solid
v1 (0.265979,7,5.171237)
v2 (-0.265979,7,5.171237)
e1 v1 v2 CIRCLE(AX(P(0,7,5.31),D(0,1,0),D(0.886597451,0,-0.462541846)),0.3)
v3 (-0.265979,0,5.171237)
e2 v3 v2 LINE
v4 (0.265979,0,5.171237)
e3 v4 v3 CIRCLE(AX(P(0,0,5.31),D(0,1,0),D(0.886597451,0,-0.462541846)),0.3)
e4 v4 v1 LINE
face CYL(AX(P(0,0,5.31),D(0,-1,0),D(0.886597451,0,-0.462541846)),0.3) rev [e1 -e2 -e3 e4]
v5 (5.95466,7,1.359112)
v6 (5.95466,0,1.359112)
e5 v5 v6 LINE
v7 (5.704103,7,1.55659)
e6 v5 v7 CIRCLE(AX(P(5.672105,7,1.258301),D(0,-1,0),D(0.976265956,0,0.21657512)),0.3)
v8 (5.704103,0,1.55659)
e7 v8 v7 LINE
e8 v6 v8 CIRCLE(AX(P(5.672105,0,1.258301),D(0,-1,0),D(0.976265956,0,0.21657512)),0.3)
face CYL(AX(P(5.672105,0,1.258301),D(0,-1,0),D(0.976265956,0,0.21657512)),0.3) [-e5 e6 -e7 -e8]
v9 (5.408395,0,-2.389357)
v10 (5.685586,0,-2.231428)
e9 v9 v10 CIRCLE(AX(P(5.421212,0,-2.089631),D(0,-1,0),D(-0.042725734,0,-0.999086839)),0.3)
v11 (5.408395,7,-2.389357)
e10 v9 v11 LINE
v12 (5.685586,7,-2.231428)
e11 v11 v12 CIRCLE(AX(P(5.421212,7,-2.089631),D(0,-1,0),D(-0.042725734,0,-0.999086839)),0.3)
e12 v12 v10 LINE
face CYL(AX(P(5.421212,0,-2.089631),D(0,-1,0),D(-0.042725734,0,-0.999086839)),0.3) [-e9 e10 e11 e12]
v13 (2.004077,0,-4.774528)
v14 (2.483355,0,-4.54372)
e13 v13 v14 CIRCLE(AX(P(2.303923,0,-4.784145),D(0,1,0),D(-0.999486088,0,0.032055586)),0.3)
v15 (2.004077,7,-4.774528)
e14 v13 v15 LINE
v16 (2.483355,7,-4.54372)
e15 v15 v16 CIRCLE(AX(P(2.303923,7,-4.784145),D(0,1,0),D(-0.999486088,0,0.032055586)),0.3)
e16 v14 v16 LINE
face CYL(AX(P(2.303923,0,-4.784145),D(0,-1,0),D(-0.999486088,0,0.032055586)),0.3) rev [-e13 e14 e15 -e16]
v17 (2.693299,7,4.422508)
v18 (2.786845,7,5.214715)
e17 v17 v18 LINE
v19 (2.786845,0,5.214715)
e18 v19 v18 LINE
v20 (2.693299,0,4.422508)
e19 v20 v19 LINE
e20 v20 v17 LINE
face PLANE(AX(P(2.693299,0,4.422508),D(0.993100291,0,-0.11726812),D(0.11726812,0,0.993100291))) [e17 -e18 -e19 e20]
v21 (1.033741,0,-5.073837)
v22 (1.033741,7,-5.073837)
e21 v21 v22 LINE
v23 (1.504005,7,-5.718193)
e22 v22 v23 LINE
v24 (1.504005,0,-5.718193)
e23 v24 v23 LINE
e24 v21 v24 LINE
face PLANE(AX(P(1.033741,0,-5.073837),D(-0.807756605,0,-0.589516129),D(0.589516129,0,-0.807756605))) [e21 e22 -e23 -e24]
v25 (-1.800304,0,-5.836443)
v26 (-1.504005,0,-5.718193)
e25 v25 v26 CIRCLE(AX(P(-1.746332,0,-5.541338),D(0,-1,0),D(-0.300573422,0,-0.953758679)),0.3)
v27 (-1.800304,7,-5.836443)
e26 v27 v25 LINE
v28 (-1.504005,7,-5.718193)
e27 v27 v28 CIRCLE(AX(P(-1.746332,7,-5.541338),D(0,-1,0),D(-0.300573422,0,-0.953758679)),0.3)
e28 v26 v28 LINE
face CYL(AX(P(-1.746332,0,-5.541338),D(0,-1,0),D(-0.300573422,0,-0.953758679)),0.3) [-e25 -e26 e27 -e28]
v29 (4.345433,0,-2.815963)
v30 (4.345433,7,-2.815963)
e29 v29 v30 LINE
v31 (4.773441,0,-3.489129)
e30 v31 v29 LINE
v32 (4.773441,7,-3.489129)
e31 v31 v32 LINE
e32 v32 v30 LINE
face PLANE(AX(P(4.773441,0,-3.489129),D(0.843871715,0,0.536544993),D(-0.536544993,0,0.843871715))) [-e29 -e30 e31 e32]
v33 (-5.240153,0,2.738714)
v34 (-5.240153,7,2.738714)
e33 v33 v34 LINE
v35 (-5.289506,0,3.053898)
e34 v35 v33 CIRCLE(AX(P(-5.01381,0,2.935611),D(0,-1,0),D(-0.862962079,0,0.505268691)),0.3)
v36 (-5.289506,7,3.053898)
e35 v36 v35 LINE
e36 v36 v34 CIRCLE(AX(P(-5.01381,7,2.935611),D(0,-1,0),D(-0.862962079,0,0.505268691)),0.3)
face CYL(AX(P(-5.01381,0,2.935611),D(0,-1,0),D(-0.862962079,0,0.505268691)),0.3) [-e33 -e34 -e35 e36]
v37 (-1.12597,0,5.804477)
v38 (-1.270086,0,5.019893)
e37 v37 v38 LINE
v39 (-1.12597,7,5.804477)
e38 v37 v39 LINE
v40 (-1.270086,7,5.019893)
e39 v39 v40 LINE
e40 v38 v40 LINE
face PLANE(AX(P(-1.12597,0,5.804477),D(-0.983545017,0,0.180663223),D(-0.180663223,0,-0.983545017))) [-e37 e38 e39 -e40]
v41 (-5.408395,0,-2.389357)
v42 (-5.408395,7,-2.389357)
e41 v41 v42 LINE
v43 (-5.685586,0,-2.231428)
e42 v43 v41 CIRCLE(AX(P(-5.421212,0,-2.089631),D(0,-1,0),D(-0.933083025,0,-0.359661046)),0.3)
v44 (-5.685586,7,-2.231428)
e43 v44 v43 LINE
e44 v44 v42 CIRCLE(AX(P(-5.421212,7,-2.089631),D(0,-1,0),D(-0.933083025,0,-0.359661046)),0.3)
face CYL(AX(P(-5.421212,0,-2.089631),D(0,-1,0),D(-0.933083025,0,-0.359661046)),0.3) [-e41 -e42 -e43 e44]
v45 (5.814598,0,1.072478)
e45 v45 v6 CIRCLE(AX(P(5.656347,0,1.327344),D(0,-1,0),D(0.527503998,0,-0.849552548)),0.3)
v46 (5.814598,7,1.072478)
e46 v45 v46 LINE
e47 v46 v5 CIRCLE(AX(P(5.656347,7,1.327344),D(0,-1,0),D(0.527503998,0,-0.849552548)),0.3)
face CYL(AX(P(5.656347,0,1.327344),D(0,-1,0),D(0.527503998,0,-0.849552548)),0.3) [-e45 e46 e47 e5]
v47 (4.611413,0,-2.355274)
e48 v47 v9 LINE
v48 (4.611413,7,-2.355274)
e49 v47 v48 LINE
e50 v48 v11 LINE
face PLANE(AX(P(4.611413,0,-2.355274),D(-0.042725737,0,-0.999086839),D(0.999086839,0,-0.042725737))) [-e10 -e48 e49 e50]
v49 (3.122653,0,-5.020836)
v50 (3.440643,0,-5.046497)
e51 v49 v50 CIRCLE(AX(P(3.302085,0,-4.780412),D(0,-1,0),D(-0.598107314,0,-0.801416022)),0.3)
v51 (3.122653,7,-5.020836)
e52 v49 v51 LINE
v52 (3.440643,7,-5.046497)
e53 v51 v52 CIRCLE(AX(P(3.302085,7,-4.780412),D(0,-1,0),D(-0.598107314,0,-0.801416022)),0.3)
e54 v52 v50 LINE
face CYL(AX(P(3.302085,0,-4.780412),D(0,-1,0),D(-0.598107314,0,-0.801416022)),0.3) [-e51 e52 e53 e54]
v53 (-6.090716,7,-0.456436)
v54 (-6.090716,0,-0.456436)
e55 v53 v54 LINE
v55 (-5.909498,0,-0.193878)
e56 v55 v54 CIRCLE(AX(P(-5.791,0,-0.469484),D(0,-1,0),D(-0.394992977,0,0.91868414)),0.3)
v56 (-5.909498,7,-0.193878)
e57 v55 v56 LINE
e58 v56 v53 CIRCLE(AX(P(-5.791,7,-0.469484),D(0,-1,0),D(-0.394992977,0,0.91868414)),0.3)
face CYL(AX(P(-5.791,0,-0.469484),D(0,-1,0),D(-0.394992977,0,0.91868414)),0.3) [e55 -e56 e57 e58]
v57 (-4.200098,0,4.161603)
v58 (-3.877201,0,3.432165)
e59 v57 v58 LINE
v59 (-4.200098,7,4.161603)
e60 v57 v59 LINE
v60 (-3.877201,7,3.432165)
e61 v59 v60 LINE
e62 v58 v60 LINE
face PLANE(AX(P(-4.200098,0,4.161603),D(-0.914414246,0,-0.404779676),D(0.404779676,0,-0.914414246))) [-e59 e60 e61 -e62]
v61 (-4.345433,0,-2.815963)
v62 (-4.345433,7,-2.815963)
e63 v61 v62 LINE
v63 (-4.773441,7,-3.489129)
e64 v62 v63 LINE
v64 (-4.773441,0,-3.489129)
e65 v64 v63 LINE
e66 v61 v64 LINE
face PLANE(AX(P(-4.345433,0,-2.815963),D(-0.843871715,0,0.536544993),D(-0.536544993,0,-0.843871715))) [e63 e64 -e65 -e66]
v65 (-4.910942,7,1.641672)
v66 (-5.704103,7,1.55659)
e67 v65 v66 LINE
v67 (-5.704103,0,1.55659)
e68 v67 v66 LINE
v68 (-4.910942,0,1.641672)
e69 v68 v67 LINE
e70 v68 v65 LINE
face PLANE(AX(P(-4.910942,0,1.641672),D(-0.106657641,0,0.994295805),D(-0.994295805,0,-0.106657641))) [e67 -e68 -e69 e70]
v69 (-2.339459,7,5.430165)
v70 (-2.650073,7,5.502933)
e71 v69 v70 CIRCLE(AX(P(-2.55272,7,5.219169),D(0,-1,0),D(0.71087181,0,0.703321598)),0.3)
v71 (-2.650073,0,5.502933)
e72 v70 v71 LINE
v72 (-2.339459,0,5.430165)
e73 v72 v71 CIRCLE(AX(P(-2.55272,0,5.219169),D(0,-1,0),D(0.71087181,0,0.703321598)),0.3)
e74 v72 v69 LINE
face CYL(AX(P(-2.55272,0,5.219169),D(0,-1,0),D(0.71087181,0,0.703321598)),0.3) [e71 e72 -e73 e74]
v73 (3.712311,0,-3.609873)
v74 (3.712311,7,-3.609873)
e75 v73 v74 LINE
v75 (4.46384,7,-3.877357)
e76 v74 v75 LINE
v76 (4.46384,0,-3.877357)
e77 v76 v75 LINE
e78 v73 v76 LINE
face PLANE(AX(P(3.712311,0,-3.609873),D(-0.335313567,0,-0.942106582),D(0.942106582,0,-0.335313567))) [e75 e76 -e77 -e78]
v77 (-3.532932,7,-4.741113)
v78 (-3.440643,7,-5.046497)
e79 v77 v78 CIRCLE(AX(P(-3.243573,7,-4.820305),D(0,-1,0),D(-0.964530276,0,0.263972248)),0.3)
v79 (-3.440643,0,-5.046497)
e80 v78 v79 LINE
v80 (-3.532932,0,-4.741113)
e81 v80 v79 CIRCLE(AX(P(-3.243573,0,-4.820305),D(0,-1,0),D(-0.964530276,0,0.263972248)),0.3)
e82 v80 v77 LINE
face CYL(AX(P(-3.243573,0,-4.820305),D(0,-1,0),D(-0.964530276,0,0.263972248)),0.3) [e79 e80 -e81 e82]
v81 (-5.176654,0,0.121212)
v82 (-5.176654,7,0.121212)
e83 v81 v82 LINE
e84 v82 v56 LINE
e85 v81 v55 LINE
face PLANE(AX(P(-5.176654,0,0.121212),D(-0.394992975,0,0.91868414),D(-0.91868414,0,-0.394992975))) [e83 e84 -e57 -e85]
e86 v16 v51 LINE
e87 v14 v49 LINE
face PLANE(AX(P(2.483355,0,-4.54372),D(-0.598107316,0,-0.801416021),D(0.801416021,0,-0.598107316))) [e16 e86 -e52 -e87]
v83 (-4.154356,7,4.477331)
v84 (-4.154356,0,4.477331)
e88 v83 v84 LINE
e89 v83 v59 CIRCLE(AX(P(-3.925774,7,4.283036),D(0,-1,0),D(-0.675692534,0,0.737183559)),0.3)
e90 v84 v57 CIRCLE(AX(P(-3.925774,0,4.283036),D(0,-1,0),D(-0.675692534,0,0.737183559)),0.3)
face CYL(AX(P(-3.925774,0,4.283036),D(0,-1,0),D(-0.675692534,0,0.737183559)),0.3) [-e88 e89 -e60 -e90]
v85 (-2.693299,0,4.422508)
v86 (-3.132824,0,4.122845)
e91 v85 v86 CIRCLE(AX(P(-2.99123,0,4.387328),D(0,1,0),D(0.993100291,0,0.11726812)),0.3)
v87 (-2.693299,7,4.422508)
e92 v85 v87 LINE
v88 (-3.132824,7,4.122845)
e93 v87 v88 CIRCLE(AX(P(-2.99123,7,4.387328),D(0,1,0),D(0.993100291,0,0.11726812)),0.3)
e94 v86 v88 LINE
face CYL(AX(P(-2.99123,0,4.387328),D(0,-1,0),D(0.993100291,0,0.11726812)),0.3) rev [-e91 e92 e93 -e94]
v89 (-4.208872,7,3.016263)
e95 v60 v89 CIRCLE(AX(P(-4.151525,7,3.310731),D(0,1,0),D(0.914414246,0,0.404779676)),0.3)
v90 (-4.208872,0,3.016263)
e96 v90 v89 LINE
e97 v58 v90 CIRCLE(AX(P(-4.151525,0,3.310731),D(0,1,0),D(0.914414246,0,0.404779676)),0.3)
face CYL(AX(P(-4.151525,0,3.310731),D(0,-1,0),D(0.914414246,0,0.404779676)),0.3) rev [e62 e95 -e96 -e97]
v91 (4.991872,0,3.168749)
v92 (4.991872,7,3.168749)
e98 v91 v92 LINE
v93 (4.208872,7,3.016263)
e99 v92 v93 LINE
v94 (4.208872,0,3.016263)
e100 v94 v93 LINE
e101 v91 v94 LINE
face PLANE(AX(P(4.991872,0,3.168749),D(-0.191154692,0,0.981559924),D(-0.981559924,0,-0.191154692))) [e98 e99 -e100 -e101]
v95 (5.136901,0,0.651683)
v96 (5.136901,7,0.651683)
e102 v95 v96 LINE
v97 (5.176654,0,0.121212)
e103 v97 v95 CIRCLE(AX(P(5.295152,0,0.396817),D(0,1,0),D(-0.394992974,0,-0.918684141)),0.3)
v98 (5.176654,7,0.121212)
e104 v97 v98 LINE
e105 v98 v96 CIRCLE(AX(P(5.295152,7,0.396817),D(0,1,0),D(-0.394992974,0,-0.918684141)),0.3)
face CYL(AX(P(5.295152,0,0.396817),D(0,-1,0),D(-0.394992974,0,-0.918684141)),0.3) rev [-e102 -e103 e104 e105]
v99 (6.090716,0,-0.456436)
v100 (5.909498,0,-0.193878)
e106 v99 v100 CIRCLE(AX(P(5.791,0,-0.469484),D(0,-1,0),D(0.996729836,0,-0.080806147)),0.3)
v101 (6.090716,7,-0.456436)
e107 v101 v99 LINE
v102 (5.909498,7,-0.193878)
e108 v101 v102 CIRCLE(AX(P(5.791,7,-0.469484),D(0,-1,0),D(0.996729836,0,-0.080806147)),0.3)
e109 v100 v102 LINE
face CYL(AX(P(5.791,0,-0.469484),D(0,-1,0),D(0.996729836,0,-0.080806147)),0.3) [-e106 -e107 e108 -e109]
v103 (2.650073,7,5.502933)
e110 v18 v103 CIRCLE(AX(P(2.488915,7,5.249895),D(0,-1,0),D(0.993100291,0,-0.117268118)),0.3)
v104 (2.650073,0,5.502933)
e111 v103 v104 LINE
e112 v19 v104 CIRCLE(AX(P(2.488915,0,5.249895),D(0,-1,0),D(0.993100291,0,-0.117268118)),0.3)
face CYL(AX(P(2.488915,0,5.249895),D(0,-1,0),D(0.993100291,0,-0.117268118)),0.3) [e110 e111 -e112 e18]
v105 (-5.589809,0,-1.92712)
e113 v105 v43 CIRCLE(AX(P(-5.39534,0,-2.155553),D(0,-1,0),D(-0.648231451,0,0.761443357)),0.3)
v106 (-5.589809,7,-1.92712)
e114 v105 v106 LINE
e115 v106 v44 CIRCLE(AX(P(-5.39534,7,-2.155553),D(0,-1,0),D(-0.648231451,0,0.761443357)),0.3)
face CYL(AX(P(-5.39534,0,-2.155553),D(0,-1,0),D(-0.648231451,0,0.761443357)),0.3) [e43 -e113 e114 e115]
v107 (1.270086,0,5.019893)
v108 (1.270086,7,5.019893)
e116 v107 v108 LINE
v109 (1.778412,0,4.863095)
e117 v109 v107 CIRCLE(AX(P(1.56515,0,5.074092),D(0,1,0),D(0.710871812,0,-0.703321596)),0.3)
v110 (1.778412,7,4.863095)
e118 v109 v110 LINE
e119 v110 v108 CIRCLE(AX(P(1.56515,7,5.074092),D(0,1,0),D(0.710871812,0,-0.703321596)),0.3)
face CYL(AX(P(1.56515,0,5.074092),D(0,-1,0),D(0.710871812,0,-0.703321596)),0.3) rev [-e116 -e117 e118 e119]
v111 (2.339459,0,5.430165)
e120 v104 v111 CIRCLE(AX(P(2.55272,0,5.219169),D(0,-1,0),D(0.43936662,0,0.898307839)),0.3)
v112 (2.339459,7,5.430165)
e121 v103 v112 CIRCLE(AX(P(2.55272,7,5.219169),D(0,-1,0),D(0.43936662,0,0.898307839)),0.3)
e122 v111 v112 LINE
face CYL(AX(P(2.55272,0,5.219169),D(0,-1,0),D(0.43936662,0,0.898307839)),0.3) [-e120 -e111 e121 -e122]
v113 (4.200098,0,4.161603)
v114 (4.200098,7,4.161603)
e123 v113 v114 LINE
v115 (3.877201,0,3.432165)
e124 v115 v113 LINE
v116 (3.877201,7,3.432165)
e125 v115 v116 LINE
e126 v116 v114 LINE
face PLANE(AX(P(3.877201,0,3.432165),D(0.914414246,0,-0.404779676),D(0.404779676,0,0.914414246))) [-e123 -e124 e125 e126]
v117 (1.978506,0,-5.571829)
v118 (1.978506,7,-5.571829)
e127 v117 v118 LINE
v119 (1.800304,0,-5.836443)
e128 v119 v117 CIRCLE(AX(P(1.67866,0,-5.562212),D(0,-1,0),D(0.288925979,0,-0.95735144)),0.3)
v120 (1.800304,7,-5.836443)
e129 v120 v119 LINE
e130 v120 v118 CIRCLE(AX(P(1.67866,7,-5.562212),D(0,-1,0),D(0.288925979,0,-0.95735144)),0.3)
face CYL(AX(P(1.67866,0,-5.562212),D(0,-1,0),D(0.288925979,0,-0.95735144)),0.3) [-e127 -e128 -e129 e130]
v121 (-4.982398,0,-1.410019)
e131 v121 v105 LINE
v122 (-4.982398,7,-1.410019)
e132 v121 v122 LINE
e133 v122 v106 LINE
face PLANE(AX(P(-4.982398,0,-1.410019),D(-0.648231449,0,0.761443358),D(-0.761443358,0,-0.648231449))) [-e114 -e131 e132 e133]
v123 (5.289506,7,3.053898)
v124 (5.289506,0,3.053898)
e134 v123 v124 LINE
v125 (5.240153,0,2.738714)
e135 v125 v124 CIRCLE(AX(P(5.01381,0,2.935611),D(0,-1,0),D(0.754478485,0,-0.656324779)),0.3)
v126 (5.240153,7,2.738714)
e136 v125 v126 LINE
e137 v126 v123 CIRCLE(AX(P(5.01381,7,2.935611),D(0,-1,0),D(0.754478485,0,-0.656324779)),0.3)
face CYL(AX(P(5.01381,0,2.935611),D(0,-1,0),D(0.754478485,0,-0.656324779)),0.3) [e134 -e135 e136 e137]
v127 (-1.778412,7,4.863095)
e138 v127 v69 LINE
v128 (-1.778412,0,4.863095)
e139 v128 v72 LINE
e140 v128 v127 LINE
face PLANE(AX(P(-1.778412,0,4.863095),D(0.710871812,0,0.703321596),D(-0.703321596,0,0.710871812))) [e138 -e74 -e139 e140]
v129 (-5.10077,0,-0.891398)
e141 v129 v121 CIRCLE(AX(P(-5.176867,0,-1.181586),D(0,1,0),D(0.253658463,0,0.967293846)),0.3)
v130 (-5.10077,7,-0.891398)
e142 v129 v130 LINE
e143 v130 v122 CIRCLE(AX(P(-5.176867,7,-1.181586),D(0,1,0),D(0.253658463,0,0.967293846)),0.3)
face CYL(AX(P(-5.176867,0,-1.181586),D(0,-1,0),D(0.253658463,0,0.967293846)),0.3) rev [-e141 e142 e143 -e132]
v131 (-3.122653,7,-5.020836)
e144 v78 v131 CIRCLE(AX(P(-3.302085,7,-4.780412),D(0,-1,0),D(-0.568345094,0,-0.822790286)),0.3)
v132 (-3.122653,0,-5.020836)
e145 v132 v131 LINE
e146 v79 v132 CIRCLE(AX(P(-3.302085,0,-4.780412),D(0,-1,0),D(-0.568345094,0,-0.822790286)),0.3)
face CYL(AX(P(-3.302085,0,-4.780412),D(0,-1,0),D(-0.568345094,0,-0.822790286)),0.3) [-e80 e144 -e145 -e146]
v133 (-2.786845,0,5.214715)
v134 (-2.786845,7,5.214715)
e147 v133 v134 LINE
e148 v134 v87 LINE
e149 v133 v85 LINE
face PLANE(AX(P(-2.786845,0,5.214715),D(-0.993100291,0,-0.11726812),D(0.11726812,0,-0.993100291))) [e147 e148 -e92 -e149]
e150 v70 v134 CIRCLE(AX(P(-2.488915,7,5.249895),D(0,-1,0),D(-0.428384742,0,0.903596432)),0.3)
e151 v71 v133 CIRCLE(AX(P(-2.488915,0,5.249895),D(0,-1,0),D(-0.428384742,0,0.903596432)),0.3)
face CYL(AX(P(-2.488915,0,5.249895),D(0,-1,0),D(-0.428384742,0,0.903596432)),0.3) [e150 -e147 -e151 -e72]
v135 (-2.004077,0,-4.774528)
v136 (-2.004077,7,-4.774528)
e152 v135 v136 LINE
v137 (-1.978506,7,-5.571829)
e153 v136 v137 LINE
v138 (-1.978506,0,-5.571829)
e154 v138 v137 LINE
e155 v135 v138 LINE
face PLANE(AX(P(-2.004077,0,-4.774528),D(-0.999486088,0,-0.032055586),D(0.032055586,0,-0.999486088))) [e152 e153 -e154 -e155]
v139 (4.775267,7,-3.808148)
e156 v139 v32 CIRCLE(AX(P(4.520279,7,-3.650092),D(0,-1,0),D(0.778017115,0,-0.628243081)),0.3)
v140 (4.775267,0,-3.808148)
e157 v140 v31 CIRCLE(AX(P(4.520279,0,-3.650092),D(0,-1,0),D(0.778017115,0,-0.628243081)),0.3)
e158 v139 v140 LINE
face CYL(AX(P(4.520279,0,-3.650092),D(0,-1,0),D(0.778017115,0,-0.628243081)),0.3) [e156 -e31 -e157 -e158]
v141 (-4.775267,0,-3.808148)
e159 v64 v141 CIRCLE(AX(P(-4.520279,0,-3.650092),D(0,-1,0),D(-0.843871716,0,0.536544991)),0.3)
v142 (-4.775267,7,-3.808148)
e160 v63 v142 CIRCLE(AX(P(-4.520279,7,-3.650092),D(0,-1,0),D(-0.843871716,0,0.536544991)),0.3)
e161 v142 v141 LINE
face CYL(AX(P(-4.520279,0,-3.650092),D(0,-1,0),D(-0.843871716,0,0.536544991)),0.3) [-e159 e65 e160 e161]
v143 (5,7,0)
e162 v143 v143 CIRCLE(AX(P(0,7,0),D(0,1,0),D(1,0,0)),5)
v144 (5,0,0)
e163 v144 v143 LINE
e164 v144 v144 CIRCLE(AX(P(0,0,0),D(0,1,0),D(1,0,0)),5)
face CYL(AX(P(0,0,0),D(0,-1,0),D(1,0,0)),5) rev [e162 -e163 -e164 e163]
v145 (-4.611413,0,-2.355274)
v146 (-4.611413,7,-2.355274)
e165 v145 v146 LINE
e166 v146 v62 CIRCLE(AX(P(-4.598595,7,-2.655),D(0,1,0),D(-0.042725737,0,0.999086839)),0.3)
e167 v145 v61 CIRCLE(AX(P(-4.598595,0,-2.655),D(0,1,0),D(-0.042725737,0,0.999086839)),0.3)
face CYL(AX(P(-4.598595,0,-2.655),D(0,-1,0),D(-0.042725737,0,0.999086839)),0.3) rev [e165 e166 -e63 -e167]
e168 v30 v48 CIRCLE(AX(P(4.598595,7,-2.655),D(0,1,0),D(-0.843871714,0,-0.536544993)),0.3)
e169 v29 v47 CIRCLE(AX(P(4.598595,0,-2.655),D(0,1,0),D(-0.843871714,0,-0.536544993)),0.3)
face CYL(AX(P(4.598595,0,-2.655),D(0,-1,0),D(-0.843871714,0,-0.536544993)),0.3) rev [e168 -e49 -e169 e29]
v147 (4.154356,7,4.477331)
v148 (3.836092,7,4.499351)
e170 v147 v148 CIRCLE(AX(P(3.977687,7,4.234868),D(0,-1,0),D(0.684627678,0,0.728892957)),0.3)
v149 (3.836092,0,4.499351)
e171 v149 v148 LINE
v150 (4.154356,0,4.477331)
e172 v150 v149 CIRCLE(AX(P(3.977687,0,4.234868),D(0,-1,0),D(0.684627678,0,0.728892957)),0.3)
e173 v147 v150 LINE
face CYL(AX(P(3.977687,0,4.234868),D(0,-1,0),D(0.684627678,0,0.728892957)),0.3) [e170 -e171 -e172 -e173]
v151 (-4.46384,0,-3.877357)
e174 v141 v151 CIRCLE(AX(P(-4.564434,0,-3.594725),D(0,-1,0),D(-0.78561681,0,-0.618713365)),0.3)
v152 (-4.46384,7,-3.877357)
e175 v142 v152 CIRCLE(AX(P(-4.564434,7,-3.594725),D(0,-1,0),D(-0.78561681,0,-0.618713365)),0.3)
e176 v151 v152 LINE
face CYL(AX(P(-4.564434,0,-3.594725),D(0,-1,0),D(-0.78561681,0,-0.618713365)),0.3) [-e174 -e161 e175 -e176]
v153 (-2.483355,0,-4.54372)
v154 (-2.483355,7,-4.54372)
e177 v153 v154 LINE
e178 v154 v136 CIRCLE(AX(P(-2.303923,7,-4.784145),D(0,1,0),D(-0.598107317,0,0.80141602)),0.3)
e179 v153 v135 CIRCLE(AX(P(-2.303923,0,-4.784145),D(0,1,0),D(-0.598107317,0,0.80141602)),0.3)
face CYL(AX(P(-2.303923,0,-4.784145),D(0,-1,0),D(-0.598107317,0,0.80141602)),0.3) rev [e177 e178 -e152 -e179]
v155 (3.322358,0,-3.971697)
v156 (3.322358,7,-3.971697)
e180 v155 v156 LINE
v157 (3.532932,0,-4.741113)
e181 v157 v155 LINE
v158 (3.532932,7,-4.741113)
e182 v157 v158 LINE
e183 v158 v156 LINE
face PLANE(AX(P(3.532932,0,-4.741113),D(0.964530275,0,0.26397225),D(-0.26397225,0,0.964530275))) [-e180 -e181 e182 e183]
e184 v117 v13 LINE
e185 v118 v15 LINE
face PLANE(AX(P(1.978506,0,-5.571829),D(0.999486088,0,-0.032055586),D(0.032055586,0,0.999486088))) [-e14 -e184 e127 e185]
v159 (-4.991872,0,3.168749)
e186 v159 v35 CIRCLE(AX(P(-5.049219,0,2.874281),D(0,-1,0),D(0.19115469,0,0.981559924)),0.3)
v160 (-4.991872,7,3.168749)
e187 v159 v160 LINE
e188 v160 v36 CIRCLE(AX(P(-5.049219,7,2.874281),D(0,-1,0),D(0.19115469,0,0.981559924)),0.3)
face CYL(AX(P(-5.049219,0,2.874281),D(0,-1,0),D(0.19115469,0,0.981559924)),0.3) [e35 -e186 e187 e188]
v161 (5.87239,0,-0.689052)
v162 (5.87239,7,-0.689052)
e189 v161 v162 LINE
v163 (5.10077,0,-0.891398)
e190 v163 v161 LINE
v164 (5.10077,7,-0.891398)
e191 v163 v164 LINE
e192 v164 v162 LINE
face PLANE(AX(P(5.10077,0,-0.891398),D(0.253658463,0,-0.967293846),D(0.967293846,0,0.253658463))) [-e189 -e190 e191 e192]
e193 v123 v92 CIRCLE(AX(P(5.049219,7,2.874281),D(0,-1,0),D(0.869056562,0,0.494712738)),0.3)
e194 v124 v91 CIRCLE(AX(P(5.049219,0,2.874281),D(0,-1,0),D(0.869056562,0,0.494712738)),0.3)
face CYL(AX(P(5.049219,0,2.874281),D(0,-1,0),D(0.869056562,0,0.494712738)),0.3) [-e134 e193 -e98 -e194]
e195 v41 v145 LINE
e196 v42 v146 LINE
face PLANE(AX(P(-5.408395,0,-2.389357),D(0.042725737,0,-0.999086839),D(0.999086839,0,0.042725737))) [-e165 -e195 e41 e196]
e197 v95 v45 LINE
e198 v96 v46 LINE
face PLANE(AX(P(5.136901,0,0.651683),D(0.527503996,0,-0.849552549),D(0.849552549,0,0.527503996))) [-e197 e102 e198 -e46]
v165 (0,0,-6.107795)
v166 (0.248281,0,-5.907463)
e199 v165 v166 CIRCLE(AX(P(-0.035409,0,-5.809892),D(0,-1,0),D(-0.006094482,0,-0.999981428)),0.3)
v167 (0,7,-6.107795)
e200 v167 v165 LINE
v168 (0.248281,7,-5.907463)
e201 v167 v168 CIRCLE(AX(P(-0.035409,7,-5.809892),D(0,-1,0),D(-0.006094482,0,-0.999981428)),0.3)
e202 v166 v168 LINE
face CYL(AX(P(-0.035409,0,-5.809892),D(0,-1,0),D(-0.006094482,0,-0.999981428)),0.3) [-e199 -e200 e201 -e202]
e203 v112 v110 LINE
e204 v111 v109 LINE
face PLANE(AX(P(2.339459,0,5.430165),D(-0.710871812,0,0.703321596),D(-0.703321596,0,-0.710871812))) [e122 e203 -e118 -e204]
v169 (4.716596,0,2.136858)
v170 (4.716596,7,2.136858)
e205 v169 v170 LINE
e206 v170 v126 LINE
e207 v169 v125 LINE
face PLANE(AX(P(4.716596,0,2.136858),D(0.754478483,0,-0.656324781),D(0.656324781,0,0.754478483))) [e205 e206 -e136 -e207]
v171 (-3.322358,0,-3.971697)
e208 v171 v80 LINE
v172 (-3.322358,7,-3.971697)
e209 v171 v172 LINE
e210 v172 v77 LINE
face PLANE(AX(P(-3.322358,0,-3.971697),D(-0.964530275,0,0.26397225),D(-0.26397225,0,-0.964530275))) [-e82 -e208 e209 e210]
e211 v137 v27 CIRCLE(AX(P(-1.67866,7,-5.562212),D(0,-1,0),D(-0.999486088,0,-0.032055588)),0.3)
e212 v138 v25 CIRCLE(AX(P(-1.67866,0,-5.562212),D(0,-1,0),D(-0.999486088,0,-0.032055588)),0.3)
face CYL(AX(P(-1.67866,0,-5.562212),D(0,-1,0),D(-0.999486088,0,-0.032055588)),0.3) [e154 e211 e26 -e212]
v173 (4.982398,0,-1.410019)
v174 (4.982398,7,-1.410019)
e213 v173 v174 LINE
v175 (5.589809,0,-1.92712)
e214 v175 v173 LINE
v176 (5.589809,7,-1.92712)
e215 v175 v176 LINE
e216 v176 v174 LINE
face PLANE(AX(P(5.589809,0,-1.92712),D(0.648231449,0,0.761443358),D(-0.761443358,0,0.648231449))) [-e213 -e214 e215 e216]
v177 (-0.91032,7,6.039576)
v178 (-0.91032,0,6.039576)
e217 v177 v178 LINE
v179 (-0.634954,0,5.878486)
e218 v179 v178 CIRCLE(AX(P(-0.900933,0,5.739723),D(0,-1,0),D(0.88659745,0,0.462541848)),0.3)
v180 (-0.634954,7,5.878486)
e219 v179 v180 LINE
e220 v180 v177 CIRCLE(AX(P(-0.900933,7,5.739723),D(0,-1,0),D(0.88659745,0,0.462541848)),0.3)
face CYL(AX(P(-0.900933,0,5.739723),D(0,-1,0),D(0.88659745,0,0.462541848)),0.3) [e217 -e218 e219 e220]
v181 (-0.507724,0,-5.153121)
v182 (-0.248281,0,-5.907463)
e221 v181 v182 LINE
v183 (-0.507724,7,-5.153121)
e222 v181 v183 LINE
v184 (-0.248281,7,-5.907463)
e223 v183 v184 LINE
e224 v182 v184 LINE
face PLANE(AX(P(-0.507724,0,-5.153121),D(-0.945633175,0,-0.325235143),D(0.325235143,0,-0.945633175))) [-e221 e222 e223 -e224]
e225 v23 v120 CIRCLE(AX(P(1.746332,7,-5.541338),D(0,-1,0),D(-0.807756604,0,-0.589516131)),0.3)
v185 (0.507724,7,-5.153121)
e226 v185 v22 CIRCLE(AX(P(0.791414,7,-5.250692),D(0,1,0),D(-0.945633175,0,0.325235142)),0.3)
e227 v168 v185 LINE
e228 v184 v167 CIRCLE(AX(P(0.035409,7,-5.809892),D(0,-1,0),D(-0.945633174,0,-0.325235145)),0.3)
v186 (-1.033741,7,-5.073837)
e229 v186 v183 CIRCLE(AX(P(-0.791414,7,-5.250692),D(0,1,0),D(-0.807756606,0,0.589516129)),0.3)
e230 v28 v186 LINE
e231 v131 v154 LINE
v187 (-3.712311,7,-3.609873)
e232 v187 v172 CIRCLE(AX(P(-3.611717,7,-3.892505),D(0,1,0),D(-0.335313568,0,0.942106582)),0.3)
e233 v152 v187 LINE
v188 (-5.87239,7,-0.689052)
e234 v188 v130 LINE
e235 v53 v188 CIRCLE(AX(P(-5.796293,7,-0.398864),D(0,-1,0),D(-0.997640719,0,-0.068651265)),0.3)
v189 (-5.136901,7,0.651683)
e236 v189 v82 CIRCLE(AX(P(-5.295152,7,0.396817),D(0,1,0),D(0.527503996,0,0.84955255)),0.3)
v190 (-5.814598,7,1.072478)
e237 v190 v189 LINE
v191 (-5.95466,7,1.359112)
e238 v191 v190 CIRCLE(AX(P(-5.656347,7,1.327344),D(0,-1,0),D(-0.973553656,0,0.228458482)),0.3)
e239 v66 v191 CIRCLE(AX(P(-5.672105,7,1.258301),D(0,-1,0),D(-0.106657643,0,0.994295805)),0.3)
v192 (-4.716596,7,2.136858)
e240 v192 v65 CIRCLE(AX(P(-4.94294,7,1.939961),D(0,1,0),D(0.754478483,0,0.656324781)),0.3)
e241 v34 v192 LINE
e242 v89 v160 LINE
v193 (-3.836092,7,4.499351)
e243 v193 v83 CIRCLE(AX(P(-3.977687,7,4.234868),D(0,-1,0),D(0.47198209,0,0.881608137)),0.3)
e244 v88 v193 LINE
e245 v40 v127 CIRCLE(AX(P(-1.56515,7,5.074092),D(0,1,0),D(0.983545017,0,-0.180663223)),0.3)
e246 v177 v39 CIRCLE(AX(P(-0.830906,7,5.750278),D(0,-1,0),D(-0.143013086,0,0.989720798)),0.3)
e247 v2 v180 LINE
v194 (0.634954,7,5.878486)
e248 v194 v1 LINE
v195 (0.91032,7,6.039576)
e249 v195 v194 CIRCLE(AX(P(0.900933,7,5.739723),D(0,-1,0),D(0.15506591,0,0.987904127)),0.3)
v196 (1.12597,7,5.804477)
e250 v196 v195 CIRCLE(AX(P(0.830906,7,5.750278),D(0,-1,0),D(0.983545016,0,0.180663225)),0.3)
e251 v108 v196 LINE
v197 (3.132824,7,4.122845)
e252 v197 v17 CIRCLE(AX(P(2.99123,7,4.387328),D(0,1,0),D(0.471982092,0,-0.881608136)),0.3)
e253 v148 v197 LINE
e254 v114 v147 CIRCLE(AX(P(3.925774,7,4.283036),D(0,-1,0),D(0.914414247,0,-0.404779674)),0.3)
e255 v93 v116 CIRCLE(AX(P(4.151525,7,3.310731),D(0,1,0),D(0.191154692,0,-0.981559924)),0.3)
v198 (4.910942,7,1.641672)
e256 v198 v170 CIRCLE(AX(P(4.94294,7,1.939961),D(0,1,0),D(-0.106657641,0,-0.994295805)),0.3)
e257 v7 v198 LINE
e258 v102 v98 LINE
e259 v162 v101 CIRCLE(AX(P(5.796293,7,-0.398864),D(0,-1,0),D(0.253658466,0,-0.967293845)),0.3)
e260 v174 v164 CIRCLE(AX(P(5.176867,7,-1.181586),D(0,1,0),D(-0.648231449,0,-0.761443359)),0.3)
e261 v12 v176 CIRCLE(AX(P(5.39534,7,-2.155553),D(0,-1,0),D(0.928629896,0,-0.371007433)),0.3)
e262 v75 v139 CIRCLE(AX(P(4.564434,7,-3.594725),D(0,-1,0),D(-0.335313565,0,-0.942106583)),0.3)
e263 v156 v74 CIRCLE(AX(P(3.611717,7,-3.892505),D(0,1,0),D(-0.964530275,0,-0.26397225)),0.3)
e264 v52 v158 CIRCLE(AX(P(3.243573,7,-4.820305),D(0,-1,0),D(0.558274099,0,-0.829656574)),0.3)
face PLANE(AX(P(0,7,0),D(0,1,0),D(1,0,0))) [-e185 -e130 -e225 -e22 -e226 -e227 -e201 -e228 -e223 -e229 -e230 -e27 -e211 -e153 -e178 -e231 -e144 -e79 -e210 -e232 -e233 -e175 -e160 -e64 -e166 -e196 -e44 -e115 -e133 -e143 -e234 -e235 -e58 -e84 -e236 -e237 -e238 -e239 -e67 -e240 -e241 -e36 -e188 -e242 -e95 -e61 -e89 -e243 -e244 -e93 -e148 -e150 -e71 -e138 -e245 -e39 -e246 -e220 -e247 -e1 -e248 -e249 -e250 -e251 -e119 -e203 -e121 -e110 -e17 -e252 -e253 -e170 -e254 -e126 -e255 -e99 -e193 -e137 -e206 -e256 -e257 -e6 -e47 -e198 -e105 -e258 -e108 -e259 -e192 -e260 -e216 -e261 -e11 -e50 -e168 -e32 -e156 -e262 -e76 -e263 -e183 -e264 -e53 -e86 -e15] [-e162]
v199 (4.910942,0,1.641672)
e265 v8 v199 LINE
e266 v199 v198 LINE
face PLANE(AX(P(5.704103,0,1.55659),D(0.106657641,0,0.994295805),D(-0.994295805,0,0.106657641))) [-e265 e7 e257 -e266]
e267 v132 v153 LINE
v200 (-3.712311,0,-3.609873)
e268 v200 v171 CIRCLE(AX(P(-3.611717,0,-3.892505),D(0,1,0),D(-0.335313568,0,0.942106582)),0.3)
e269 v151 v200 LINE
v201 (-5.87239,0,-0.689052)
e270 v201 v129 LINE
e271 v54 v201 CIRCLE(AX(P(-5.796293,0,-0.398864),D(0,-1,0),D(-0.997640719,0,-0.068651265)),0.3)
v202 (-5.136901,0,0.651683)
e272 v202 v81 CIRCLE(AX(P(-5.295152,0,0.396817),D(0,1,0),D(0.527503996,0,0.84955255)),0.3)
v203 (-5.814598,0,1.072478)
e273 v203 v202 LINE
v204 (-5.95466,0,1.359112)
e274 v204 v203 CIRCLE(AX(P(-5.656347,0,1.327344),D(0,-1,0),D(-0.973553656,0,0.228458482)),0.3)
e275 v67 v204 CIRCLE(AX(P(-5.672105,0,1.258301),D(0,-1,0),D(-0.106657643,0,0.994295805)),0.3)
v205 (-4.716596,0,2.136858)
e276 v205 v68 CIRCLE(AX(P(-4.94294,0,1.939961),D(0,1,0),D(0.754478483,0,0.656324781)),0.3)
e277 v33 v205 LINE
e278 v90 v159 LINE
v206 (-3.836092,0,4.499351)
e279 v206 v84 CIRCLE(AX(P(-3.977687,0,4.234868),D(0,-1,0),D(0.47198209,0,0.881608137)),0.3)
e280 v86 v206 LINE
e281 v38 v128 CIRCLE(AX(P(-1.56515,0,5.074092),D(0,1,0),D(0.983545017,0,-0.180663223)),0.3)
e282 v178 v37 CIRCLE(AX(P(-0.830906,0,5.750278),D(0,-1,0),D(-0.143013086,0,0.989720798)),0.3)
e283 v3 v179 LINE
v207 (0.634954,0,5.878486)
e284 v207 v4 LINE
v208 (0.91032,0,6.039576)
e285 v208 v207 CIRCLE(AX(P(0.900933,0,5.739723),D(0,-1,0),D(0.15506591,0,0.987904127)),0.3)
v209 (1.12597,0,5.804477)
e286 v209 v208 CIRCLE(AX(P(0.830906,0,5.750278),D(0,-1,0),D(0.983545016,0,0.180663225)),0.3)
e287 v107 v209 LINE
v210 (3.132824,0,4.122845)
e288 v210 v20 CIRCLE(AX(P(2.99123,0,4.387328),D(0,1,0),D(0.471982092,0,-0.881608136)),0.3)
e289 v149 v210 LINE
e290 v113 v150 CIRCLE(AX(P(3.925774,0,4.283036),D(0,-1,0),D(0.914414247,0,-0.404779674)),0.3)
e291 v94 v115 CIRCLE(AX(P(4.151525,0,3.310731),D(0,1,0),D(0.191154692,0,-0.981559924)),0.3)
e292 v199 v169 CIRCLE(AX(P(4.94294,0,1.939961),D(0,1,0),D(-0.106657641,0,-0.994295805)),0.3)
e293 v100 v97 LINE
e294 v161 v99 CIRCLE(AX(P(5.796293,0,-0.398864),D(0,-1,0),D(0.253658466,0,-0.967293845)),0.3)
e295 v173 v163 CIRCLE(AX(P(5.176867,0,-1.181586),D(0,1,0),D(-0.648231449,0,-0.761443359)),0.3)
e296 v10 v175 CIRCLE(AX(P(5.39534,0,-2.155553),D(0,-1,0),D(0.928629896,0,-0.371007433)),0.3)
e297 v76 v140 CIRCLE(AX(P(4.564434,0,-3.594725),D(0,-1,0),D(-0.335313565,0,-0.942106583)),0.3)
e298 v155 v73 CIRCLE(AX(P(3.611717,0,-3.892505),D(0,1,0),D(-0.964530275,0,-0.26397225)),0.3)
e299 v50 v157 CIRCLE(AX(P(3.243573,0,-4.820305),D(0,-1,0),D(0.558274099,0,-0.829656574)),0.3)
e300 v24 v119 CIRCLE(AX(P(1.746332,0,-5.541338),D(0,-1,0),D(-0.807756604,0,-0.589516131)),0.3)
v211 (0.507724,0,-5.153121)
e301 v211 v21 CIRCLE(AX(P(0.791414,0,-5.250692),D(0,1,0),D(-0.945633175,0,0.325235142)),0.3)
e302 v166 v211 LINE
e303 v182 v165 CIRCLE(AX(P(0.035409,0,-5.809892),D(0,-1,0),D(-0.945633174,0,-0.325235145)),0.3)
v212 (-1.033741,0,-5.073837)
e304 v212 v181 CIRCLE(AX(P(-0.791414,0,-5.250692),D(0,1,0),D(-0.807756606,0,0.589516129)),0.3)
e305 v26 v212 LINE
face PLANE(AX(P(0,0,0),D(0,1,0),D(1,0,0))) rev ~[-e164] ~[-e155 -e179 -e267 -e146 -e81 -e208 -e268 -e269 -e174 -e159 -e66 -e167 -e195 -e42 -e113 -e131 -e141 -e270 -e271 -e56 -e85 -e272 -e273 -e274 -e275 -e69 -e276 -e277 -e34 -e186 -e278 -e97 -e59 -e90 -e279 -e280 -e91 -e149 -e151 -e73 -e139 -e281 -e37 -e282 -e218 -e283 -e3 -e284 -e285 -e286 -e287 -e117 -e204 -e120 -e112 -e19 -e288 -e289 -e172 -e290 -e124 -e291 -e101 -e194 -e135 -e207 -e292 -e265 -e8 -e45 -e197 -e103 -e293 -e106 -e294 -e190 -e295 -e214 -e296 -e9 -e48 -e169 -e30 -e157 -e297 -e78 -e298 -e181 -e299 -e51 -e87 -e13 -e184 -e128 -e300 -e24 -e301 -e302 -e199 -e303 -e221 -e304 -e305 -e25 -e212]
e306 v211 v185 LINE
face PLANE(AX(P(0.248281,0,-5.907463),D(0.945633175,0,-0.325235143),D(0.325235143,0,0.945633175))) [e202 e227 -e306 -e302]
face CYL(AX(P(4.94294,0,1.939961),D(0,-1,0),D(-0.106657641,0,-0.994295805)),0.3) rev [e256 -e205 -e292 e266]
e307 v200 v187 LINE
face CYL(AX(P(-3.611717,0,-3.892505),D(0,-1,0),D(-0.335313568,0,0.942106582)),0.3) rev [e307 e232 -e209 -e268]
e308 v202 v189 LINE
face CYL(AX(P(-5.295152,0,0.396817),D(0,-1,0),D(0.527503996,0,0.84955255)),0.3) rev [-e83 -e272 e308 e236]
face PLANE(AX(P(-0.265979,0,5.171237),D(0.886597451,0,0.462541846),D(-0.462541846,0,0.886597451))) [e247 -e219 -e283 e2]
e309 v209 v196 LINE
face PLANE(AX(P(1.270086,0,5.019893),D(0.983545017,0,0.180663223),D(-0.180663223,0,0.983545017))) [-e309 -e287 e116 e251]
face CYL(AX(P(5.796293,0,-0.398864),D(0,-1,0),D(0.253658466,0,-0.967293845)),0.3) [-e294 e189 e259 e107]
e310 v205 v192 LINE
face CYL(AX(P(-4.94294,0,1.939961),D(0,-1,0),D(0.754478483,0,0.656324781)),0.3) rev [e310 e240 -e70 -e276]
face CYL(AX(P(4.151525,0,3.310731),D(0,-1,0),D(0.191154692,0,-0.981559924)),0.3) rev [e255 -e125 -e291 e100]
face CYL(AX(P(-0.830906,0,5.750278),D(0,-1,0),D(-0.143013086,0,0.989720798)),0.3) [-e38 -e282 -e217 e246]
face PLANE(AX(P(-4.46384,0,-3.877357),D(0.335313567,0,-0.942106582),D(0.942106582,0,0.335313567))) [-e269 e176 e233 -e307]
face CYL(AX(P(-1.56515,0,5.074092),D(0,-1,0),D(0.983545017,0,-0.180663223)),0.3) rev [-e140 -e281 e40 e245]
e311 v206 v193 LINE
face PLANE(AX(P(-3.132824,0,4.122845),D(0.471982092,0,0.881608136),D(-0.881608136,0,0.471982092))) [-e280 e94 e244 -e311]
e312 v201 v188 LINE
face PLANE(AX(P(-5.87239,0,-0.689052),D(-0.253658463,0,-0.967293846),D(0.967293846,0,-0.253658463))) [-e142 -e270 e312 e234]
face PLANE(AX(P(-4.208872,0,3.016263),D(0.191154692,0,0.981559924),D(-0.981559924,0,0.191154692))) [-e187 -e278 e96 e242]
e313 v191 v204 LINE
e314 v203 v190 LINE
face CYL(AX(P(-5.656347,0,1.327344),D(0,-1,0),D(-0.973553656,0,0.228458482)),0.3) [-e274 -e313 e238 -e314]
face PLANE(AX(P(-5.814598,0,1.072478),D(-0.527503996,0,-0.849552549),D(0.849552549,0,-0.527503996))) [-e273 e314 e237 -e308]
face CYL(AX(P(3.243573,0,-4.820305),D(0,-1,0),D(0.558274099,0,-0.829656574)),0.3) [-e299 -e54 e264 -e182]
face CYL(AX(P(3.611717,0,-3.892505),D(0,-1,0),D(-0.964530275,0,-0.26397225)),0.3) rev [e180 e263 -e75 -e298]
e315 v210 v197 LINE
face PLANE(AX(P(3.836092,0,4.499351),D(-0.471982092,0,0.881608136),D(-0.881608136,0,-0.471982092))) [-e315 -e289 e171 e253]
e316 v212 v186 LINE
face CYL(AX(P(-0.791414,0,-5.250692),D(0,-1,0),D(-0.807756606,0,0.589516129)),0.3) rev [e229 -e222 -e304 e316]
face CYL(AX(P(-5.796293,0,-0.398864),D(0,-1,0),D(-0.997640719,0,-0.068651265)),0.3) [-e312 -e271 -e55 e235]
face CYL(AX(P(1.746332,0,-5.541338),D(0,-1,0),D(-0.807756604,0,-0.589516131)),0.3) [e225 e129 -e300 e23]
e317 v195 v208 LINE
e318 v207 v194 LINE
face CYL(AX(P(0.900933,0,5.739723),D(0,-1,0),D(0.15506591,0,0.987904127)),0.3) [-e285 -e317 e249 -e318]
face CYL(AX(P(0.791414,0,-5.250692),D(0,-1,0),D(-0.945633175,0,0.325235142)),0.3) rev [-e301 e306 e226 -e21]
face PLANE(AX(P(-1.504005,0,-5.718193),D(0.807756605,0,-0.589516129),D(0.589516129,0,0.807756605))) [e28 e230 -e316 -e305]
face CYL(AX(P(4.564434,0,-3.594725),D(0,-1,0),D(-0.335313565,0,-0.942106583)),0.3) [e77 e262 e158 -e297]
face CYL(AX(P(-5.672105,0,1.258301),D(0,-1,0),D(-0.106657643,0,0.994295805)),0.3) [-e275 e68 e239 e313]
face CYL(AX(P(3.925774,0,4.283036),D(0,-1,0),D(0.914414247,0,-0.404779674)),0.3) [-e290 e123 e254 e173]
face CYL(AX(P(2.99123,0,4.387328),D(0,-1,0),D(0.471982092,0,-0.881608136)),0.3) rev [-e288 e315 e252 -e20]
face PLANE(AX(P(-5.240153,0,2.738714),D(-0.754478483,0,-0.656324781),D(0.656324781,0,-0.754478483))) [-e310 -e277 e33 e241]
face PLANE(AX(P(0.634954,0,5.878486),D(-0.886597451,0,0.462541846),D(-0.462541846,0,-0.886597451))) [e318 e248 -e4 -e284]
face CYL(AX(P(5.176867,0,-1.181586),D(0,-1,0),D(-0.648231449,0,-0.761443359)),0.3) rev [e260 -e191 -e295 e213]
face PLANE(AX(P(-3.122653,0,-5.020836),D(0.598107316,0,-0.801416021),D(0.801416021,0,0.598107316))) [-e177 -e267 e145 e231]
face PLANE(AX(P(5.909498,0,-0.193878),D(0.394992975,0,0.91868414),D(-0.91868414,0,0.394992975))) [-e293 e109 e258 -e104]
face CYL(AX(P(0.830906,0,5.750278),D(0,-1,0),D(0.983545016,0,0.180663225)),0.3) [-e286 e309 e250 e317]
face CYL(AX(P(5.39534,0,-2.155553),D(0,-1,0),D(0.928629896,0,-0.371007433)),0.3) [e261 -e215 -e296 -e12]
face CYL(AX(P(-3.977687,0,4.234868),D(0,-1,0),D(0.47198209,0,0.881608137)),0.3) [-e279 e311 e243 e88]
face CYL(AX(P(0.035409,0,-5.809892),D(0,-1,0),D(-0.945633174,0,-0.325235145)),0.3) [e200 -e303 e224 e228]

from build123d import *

# Parameters (mm, degrees)
SKETCH1_R           = 6.11
SKETCH1_R_2         = 5
BOSS_EXTRUDE1_DEPTH = 7
CUT_EXTRUDE2_DEPTH  = 7
CIRPATTERN1_COUNT   = 21


with BuildPart() as part:
    # Sketch1 → Boss-Extrude1 (new body)
    with BuildSketch(Plane(origin=(0, 0, 0), x_dir=(1, 0, 0), z_dir=(0, 1, 0))):
        Circle(SKETCH1_R)
        Circle(SKETCH1_R_2, mode=Mode.SUBTRACT)
    extrude(amount=BOSS_EXTRUDE1_DEPTH)

    # Sketch2 → Cut-Extrude2 (cut)
    with BuildSketch(Plane(origin=(0, 0, 0), x_dir=(1, 0, 0), z_dir=(0, 1, 0))):
        with BuildLine():
            Line((0.634953715, -5.878485528), (0.265979235, -5.171237446))
            ThreePointArc((0.265979235, -5.171237446), (0, -5.01), (-0.265979235, -5.171237446))
            Line((-0.265979235, -5.171237446), (-0.634953715, -5.878485528))
            ThreePointArc((-0.634953715, -5.878485528), (-0.765837658, -6.007583501), (-0.947452724, -6.036094212))
            ThreePointArc((-0.947452724, -6.036094212), (0, -7.060330853), (0.947452724, -6.036094212))
            ThreePointArc((0.947452724, -6.036094212), (0.765837658, -6.007583501), (0.634953715, -5.878485528))
        make_face()
    cut_extrude2 = extrude(amount=CUT_EXTRUDE2_DEPTH, mode=Mode.SUBTRACT)

    # CirPattern1: Cut-Extrude2 ×21 about axis
    cirpattern1_axis = Axis((0, 0, 0), (0, 1, 0))
    for i in range(1, CIRPATTERN1_COUNT):
        add(cut_extrude2.rotate(cirpattern1_axis, i * 360 / CIRPATTERN1_COUNT), mode=Mode.SUBTRACT)


solid = part.part
